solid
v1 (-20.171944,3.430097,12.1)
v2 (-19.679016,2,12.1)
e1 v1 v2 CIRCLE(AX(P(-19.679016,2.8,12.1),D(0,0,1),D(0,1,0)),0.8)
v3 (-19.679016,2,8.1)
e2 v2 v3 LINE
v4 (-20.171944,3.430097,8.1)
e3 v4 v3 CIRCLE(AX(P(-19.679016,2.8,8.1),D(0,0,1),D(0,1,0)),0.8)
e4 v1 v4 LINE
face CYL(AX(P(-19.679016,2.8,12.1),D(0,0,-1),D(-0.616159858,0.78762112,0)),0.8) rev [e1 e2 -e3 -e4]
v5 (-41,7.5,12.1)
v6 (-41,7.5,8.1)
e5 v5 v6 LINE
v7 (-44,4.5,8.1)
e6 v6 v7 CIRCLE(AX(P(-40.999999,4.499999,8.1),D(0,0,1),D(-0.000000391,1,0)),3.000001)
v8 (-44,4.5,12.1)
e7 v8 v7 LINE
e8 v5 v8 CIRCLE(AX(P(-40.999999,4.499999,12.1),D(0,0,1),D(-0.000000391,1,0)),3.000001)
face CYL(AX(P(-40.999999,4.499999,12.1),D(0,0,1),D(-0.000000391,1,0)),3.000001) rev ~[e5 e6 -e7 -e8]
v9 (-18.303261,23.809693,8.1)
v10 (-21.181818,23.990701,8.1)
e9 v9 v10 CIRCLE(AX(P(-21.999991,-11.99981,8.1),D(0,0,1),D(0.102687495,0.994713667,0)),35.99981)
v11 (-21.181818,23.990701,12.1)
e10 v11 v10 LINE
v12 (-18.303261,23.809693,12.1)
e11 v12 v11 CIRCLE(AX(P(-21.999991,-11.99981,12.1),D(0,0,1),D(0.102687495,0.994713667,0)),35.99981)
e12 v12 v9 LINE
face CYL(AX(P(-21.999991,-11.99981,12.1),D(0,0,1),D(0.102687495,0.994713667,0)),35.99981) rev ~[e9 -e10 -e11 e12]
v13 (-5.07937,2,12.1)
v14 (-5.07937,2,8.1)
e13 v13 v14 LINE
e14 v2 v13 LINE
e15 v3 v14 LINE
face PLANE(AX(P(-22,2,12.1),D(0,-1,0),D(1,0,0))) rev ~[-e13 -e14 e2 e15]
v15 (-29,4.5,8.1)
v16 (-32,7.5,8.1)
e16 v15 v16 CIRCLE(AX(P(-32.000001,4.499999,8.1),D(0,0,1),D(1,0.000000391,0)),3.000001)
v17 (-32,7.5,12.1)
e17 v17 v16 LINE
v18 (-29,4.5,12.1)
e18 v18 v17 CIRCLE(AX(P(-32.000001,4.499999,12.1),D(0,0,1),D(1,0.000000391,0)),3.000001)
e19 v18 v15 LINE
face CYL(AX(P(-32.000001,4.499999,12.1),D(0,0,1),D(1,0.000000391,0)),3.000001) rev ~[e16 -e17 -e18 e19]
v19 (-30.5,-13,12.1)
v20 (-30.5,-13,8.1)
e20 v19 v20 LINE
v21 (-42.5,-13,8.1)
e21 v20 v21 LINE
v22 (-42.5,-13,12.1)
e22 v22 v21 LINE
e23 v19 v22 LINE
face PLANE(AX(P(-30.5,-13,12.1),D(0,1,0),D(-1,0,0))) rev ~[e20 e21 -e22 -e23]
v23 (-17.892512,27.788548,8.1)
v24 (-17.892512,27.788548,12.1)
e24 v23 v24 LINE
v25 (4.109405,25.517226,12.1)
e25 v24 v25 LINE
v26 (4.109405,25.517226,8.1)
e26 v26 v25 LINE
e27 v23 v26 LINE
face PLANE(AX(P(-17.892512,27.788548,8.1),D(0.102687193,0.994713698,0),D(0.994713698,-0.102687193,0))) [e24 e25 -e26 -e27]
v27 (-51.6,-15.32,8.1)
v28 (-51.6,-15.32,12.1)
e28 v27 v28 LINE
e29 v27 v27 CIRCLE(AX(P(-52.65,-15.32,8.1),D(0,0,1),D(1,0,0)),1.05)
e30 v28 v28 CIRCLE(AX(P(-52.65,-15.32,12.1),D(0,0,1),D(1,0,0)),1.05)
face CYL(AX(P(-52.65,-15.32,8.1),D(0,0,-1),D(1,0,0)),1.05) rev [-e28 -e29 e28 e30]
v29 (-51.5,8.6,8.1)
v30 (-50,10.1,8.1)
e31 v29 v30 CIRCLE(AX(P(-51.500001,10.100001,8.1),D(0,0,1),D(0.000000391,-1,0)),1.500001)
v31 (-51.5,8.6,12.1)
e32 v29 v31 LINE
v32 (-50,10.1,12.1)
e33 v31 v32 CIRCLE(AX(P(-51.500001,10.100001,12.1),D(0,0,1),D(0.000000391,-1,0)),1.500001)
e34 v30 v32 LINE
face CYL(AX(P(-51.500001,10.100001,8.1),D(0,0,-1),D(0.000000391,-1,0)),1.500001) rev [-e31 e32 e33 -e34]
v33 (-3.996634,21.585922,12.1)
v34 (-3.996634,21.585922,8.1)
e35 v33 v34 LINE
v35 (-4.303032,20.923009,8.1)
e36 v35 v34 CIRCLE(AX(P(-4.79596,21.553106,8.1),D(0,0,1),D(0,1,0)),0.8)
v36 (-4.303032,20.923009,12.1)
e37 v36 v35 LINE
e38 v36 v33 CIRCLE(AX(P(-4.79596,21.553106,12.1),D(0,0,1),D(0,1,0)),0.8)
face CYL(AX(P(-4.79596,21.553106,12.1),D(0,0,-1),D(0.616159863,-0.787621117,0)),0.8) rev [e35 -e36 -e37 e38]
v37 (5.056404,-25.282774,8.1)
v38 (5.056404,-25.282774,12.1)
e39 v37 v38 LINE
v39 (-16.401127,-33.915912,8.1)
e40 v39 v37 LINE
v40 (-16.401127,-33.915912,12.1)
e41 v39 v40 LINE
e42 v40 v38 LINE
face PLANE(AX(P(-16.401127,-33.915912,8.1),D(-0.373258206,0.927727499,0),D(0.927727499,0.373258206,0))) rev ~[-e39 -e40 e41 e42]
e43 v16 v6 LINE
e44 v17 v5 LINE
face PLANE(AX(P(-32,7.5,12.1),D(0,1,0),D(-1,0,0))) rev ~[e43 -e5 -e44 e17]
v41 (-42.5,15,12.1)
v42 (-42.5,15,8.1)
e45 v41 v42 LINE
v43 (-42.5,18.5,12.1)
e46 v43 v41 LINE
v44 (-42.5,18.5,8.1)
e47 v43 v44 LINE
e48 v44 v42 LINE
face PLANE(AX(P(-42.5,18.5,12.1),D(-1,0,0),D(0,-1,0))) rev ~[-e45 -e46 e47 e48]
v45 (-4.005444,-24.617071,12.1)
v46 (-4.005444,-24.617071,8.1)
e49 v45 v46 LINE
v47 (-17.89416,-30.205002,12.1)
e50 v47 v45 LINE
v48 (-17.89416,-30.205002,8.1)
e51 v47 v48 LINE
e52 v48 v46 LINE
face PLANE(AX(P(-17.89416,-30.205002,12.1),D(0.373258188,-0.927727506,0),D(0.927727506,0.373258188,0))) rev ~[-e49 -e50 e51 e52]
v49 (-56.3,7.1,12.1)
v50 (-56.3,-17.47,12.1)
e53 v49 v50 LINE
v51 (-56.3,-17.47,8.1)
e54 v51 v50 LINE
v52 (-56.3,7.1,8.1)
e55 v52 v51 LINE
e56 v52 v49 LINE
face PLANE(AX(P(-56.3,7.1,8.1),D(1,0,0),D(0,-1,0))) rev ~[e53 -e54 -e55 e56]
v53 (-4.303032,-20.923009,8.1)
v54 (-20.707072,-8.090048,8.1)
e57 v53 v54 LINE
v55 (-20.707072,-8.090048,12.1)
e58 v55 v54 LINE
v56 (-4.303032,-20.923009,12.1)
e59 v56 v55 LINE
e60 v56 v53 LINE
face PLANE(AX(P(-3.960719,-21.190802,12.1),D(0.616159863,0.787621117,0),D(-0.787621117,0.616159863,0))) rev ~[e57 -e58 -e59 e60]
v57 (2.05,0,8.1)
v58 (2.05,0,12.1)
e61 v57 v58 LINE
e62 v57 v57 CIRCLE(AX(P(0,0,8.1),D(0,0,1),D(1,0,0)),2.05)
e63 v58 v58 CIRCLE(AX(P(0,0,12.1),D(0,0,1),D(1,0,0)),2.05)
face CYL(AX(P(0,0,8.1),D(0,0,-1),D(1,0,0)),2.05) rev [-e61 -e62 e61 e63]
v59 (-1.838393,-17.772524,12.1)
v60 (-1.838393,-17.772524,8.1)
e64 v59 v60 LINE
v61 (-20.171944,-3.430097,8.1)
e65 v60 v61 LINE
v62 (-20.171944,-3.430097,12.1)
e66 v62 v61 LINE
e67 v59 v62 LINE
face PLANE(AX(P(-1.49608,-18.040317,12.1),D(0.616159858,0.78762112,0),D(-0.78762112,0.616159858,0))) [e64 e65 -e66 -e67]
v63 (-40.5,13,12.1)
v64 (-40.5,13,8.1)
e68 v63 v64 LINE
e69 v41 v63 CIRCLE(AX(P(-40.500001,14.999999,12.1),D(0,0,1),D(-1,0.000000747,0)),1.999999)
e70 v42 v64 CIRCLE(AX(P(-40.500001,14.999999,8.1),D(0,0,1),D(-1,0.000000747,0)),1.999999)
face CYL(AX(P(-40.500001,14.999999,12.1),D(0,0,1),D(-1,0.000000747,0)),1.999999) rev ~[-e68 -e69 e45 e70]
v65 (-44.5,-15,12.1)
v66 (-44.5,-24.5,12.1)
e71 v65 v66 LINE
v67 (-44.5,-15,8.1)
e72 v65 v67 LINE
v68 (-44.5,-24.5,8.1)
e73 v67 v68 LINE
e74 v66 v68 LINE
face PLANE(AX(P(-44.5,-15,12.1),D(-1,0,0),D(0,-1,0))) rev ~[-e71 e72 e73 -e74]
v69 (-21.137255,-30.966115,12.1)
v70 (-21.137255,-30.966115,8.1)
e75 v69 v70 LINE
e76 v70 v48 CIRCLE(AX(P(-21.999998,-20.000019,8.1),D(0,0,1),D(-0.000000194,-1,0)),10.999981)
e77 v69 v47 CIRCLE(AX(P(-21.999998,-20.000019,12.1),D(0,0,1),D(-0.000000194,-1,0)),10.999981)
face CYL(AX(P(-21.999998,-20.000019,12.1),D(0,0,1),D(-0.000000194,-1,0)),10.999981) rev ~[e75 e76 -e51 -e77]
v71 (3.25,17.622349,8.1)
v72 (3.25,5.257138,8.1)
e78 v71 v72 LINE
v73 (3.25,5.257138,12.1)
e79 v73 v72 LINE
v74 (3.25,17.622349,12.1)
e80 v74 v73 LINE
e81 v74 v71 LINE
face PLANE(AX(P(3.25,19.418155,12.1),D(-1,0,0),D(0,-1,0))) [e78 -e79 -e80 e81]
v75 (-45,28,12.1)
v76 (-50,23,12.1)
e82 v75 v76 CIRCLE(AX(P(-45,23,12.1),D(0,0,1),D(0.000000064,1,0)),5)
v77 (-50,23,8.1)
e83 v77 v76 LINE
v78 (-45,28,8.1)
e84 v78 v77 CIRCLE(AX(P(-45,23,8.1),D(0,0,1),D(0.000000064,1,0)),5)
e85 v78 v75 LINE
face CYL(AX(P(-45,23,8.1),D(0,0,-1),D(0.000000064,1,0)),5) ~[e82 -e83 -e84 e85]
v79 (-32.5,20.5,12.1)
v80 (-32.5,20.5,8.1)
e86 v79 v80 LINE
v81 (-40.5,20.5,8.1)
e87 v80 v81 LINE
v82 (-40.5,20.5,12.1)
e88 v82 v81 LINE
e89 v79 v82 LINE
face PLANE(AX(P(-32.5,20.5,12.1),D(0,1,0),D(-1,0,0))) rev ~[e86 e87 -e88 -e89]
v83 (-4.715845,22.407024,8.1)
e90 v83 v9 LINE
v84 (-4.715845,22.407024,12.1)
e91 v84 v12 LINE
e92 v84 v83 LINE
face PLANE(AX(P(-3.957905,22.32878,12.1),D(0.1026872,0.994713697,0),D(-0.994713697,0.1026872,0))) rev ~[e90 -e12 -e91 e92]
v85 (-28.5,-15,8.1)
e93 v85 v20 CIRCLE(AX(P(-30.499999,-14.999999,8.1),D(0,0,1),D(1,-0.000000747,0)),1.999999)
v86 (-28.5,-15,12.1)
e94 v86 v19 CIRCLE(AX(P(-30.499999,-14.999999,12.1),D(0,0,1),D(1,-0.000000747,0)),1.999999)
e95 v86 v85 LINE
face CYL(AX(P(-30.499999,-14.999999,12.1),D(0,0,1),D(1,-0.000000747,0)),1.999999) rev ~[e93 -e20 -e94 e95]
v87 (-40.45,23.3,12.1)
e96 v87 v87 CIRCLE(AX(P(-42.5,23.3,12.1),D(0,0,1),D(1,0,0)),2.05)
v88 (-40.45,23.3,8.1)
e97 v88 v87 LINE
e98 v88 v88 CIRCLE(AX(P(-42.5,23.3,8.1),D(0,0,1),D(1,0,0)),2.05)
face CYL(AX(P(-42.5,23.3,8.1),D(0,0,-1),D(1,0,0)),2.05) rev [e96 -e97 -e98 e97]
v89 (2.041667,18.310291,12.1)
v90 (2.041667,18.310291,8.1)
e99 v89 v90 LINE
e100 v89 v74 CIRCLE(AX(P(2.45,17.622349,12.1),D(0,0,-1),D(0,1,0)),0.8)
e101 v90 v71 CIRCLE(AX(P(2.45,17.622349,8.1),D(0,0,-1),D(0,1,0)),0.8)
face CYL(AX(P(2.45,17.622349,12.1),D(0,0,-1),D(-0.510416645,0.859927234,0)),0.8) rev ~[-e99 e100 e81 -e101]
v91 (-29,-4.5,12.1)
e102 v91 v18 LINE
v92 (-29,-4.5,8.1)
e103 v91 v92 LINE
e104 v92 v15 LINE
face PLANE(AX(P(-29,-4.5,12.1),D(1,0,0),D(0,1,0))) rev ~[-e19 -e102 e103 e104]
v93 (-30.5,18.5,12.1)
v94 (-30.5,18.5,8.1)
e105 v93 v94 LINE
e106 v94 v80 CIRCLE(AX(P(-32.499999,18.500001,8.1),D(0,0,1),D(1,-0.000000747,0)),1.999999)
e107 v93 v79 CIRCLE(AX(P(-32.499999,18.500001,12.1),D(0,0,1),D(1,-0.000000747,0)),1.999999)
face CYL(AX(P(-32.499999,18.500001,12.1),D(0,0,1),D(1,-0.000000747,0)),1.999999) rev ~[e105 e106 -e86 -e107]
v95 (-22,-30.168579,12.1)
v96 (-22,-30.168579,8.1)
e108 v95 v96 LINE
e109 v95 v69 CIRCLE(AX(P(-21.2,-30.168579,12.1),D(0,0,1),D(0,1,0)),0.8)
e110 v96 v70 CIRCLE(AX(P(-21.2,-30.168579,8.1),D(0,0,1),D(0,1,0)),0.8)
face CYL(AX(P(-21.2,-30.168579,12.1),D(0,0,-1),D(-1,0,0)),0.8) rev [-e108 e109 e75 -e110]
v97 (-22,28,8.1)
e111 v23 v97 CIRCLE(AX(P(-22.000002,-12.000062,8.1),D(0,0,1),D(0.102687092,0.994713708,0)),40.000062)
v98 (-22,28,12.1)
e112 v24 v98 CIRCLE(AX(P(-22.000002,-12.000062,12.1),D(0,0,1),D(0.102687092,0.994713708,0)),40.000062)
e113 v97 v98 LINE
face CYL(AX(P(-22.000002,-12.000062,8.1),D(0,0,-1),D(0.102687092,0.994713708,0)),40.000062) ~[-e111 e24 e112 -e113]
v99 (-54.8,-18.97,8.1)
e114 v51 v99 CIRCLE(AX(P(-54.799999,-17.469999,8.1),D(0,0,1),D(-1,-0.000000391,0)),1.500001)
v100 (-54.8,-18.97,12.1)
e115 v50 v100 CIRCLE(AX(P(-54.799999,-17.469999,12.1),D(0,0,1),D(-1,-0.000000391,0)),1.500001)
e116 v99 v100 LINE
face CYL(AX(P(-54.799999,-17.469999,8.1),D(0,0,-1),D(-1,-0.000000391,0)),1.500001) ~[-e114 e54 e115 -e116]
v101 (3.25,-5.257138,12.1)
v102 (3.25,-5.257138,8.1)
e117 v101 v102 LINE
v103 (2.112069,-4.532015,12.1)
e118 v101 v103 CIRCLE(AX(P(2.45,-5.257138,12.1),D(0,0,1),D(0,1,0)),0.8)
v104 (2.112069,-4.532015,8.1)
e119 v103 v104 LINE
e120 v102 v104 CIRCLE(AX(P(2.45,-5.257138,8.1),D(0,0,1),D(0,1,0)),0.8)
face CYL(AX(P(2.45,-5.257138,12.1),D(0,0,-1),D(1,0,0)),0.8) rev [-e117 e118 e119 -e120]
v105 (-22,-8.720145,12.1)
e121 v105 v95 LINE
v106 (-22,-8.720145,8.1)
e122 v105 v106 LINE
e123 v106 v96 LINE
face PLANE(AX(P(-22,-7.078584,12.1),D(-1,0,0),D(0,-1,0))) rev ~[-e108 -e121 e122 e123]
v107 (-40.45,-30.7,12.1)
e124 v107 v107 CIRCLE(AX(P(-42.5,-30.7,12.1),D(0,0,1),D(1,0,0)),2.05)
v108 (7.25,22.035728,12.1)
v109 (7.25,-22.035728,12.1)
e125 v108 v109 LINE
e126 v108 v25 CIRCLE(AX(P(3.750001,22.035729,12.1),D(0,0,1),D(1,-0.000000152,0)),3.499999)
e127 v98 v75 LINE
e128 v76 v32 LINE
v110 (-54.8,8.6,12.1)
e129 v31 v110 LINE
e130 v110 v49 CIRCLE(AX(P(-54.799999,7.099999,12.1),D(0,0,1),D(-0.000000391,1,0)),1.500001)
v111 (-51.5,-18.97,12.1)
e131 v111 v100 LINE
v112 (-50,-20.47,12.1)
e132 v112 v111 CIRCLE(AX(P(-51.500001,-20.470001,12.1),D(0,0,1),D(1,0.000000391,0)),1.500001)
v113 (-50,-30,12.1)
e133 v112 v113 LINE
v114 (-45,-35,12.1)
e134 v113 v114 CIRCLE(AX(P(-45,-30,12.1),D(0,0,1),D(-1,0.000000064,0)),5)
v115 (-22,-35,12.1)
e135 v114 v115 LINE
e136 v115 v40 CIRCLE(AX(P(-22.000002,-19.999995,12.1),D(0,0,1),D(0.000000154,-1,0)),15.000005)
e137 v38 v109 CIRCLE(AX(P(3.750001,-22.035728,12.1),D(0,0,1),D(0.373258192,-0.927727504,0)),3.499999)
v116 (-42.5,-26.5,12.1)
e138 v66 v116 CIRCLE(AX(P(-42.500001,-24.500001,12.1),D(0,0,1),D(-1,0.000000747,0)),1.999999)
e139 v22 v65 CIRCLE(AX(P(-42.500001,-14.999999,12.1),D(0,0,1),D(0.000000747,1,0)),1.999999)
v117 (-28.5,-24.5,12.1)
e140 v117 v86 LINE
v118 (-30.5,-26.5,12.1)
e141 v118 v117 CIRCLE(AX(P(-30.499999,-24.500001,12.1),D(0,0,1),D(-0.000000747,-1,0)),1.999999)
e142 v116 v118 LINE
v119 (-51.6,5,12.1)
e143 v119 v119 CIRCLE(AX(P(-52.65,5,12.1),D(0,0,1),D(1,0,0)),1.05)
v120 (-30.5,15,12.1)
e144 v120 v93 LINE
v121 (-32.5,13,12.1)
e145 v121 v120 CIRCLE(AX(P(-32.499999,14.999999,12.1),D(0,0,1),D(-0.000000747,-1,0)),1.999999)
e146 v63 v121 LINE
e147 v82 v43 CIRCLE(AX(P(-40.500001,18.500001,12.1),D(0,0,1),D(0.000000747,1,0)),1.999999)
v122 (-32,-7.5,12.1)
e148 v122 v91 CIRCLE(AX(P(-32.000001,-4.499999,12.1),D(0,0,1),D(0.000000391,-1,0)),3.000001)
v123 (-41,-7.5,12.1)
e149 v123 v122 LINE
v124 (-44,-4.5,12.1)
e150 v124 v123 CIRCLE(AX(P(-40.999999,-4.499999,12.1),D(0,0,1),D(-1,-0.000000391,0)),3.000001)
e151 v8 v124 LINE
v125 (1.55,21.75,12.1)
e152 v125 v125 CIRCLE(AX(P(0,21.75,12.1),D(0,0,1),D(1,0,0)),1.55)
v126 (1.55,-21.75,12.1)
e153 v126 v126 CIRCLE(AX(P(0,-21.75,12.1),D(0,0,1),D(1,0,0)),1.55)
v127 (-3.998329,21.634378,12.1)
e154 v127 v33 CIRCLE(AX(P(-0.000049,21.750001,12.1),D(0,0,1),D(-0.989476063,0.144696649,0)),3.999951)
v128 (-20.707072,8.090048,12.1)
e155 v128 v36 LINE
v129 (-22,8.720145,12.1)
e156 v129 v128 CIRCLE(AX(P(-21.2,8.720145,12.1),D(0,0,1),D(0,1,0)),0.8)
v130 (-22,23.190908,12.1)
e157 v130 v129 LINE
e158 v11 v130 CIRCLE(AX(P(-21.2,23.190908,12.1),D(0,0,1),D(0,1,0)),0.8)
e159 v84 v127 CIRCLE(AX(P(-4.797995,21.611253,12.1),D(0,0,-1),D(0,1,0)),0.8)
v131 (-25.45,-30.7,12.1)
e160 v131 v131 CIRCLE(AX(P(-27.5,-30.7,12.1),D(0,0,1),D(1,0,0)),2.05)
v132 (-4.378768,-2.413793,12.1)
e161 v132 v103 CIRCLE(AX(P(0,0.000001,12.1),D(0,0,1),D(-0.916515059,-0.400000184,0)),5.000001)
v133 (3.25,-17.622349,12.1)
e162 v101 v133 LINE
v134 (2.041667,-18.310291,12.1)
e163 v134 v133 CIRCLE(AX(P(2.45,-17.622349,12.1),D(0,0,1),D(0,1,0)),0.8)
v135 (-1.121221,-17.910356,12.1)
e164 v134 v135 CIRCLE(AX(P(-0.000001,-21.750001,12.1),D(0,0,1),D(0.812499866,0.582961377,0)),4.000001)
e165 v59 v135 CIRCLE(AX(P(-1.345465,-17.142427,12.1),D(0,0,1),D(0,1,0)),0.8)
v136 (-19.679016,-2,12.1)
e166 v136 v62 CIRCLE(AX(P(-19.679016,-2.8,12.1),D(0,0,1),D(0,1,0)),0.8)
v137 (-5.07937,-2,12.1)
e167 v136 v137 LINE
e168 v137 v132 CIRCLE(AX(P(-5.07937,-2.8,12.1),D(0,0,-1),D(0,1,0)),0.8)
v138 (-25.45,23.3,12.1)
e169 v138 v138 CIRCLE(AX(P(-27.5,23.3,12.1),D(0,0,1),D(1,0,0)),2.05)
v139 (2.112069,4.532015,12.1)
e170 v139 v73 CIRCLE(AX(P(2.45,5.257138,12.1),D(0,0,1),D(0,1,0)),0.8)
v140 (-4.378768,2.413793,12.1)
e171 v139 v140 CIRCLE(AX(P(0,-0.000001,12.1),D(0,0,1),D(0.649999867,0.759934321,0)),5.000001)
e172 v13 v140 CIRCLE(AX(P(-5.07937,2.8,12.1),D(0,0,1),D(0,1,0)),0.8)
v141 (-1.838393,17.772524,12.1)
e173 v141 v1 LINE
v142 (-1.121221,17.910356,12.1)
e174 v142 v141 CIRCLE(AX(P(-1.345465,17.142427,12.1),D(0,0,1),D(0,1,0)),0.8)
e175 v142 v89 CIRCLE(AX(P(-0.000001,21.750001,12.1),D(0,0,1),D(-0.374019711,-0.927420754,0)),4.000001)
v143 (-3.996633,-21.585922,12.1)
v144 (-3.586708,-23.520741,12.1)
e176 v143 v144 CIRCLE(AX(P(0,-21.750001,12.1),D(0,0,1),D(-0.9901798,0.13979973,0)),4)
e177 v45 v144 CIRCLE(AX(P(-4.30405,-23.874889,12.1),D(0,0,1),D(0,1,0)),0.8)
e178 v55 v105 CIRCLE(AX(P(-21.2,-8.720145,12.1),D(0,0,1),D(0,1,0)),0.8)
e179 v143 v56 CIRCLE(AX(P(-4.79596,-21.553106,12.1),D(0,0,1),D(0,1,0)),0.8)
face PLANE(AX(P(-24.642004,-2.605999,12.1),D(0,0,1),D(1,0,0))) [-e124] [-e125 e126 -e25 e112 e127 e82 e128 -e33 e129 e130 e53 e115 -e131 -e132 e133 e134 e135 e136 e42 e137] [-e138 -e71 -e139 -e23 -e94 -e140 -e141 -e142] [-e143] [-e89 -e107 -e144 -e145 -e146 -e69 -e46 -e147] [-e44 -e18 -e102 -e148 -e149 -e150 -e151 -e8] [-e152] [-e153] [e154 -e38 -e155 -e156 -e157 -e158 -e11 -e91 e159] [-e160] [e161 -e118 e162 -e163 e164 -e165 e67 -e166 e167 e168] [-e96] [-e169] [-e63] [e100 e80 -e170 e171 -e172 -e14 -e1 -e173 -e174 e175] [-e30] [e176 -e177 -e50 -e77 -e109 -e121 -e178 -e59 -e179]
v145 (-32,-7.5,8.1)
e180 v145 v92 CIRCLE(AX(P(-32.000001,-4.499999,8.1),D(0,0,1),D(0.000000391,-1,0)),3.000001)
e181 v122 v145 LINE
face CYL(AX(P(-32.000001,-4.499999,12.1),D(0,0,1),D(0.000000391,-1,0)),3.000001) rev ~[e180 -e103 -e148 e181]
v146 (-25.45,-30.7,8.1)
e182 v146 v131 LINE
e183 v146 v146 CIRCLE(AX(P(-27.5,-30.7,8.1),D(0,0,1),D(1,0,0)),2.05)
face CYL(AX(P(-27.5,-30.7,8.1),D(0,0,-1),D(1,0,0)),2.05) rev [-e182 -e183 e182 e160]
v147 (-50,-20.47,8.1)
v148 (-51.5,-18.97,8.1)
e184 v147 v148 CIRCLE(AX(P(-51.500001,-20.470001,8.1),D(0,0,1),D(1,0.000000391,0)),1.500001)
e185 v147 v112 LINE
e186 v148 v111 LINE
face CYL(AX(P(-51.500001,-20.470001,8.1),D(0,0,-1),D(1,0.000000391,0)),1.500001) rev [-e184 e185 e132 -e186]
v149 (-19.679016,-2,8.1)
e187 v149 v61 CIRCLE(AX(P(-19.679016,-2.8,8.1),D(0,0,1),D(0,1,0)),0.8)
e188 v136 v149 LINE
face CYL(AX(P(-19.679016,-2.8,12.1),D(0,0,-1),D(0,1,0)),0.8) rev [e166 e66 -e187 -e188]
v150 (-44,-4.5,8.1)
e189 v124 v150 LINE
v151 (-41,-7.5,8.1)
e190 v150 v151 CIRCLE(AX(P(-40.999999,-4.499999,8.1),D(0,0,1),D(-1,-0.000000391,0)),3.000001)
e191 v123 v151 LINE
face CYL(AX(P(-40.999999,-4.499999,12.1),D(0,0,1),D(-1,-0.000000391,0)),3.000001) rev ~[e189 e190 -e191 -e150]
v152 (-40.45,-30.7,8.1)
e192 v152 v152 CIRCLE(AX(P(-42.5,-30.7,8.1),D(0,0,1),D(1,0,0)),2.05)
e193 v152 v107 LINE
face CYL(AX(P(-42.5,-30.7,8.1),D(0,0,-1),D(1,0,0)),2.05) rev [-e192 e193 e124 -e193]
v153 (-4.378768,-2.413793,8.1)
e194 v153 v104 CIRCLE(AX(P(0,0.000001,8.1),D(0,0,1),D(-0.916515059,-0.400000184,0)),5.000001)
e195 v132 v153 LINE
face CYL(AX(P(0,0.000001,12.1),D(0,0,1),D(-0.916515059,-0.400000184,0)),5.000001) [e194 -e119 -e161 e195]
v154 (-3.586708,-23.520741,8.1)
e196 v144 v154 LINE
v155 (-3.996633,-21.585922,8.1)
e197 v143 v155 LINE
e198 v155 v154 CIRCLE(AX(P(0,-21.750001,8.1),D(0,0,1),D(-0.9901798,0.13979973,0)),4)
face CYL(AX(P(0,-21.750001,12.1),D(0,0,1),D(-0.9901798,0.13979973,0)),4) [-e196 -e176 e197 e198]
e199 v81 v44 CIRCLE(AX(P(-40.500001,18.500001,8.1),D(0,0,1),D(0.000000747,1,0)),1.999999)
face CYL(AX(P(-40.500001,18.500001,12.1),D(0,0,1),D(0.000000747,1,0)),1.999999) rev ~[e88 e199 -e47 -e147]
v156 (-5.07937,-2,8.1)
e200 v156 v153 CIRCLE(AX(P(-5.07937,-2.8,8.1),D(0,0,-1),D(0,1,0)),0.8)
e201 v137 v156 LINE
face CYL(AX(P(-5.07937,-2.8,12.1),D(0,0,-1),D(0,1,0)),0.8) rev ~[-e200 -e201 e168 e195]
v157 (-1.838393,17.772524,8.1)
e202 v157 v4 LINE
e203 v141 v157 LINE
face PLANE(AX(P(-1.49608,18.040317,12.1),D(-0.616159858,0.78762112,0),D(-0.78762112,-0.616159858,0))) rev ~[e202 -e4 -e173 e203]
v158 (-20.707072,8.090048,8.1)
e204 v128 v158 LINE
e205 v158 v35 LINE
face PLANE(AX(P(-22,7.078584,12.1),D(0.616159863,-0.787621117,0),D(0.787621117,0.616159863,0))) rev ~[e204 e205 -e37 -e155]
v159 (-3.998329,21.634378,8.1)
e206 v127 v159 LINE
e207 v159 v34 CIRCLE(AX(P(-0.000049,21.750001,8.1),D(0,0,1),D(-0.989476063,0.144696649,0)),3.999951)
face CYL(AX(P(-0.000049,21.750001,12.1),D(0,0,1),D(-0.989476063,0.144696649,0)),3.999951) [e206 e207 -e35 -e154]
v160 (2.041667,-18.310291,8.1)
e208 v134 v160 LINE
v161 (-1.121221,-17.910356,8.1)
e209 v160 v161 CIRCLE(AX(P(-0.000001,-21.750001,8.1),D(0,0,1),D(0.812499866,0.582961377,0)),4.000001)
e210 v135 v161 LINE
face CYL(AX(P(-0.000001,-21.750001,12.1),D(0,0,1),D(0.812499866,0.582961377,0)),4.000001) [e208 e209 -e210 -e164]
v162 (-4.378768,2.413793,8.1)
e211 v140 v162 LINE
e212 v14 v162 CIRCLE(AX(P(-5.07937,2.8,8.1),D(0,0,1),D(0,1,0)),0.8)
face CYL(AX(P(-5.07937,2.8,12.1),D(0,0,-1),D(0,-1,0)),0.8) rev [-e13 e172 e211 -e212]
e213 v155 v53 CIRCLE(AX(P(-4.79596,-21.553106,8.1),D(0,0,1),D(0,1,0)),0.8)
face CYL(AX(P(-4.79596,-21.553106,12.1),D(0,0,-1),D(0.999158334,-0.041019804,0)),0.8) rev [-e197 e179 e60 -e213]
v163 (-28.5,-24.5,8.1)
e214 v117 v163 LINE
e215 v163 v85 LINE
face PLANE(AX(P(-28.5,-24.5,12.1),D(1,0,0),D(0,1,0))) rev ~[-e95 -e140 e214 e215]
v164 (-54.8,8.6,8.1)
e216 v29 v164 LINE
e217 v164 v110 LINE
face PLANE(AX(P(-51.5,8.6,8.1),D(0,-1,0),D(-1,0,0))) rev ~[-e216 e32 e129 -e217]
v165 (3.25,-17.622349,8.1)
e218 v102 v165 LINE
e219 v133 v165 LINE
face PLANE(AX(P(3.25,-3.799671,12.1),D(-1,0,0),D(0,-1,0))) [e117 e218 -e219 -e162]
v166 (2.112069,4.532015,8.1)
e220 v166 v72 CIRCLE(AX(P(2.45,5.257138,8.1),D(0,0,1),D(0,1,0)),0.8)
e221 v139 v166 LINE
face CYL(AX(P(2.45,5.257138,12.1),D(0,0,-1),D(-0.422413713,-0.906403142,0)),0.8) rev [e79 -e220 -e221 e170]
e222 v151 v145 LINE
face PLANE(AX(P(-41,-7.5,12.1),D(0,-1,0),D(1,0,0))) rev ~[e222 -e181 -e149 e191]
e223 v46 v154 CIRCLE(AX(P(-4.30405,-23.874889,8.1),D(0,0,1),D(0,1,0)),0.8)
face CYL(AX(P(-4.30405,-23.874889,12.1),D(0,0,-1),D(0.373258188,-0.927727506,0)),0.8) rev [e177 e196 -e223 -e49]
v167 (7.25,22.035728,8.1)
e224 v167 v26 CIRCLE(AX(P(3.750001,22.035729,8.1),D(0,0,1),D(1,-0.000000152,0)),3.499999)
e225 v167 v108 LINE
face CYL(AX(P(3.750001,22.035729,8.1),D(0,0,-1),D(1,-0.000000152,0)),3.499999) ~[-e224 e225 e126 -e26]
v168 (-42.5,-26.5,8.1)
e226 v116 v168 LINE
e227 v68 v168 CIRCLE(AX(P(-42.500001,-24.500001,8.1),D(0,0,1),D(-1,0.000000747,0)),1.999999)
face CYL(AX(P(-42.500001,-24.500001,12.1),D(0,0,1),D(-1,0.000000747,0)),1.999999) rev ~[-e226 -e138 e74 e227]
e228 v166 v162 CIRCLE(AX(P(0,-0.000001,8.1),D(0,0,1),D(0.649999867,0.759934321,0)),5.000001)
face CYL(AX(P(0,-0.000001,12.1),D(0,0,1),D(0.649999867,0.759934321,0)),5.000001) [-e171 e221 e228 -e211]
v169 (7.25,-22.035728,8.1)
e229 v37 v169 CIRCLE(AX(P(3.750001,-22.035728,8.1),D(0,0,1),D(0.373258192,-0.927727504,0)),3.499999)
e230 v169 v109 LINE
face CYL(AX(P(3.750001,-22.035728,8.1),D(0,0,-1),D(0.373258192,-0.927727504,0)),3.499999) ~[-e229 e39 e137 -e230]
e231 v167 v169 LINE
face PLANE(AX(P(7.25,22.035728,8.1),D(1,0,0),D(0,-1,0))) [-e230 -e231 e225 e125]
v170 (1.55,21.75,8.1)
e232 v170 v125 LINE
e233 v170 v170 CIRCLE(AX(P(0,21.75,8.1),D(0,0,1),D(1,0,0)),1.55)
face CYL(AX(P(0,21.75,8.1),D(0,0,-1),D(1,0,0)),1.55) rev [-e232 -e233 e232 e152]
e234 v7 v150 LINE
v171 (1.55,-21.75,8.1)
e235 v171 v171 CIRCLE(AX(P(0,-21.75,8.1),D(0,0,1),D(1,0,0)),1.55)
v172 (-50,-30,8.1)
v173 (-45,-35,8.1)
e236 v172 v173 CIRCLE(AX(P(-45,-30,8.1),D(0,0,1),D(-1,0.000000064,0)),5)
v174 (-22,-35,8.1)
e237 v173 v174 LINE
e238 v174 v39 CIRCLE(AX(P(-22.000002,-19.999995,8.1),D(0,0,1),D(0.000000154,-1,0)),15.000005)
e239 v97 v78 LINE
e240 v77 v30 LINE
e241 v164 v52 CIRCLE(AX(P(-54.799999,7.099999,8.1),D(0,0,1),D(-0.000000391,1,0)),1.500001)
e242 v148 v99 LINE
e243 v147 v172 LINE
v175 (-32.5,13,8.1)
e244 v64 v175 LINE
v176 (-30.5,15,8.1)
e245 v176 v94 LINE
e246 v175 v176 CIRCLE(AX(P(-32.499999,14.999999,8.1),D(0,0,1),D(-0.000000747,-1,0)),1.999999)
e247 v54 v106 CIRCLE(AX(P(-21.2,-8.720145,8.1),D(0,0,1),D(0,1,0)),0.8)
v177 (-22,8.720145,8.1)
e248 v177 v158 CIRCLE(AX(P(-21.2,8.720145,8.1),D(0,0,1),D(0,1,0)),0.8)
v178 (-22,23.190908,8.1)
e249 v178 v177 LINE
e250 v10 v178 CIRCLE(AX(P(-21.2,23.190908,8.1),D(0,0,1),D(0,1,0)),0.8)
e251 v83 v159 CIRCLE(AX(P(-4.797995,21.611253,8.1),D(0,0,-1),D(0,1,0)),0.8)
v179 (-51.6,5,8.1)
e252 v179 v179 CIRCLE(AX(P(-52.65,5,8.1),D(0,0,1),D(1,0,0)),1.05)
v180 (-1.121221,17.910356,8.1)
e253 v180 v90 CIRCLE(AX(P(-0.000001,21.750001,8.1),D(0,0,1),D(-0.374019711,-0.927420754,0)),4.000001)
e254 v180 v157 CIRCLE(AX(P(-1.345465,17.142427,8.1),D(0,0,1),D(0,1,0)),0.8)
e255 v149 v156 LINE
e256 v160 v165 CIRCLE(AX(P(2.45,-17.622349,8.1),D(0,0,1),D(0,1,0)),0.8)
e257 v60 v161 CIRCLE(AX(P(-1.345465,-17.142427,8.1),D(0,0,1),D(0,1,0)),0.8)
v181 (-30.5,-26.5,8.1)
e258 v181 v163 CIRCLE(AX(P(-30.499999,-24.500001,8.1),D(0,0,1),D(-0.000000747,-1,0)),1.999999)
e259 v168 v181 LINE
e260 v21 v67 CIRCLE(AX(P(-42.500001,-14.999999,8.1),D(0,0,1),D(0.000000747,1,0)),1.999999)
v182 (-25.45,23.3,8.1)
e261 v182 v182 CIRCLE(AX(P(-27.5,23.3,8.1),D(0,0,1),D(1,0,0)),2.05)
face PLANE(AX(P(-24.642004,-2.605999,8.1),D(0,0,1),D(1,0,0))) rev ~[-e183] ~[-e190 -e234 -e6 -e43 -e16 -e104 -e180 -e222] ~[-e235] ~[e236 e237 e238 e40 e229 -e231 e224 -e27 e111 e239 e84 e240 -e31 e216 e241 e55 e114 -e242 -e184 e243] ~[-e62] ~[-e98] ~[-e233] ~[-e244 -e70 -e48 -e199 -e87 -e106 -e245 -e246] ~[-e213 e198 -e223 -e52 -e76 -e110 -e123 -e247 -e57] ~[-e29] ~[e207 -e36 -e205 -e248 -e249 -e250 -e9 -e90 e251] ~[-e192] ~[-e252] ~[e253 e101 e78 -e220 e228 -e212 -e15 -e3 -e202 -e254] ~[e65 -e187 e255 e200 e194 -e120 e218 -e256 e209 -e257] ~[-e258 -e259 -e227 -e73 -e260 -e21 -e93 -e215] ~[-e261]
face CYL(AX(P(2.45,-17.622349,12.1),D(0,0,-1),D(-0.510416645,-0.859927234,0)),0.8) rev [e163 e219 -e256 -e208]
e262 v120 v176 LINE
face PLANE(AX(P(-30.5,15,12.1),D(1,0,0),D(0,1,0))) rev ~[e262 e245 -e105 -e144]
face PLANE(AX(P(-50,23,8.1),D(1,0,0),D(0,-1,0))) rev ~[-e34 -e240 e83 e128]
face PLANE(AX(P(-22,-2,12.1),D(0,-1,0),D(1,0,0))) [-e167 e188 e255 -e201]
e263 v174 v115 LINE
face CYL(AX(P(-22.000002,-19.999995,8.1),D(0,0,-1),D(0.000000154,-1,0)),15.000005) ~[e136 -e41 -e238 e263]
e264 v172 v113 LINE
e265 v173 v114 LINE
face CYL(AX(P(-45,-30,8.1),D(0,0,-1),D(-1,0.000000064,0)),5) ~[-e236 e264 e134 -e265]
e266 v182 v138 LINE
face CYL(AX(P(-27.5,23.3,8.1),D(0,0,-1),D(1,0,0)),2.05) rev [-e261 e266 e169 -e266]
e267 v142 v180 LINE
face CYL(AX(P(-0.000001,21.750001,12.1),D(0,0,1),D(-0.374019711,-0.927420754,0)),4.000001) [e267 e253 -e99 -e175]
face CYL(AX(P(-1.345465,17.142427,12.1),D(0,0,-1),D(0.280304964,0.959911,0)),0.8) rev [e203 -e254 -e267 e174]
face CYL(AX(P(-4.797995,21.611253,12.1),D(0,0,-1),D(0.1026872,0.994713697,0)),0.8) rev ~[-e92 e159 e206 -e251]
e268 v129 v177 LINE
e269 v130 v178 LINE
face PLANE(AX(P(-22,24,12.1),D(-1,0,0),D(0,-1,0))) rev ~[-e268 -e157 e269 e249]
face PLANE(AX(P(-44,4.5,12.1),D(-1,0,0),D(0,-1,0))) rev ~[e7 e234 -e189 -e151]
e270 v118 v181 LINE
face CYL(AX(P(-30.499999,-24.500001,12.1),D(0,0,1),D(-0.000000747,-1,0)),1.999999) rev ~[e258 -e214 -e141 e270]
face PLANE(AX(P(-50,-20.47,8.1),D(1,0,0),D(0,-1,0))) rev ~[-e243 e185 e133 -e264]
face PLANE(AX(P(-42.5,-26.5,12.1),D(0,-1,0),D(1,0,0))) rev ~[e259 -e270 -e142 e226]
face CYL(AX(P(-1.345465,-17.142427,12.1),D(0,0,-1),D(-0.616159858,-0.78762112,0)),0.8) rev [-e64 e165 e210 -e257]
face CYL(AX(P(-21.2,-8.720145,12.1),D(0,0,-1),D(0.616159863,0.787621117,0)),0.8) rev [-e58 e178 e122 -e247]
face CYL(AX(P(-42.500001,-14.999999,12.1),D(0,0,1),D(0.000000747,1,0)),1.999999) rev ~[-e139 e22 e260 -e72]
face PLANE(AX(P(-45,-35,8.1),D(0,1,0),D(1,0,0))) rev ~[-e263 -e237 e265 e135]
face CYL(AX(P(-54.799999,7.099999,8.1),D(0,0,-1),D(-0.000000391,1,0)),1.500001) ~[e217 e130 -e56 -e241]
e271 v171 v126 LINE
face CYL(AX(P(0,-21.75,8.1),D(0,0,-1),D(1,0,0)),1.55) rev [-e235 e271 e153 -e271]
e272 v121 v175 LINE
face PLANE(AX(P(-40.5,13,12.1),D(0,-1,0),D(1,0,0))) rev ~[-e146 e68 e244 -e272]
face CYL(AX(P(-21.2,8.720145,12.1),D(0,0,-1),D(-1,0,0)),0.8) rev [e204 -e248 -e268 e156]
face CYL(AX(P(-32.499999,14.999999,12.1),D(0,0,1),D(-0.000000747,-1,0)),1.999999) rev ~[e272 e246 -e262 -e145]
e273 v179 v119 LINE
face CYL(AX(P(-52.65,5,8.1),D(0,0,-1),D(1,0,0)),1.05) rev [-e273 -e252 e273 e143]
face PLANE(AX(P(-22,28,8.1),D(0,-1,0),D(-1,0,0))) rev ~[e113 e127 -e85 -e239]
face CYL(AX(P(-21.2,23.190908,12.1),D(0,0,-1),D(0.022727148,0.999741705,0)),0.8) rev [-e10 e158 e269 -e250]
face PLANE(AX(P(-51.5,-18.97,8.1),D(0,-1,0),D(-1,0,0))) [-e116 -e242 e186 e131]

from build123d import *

# Parameters (mm, degrees)
SKETCH152_R     = 1.55
SKETCH152_R_2   = 2.05
SKETCH152_R_3   = 1.05
PAD060_DEPTH    = 4
POCKET075_DEPTH = 4.001
POCKET076_DEPTH = 4.001
FILLET004_R     = 0.8


with BuildPart() as part:
    # Sketch152 → Pad060 (new body)
    with BuildSketch(Plane.XY):
        with BuildLine():
            Line((-22, 28), (-45, 28))
            ThreePointArc((-45, 28), (-48.535534, 26.535534), (-50, 23))
            Line((-50, 23), (-50, 10.1))
            ThreePointArc((-51.5, 8.6), (-50.43934, 9.03934), (-50, 10.1))
            Line((-51.5, 8.6), (-54.8, 8.6))
            ThreePointArc((-54.8, 8.6), (-55.86066, 8.16066), (-56.3, 7.1))
            Line((-56.3, 7.1), (-56.3, -17.47))
            ThreePointArc((-56.3, -17.47), (-55.86066, -18.53066), (-54.8, -18.97))
            Line((-51.5, -18.97), (-54.8, -18.97))
            ThreePointArc((-50, -20.47), (-50.43934, -19.40934), (-51.5, -18.97))
            Line((-50, -20.47), (-50, -30))
            ThreePointArc((-50, -30), (-48.535534, -33.535534), (-45, -35))
            Line((-45, -35), (-22, -35))
            ThreePointArc((-22, -35), (-19.148569, -34.726484), (-16.401127, -33.915912))
            Line((-16.401127, -33.915912), (5.056404, -25.282774))
            ThreePointArc((5.056404, -25.282774), (6.650208, -23.995012), (7.25, -22.035728))
            Line((7.25, 22.035728), (7.25, -22.035728))
            ThreePointArc((7.25, 22.035728), (6.348838, 24.380092), (4.109405, 25.517226))
            Line((-17.892512, 27.788548), (4.109405, 25.517226))
            ThreePointArc((-17.892512, 27.788548), (-19.943537, 27.947102), (-22, 28))
        make_face()
        with Locations((0, 21.75)):
            Circle(SKETCH152_R, mode=Mode.SUBTRACT)
        with Locations((0, -21.75)):
            Circle(SKETCH152_R, mode=Mode.SUBTRACT)
        Circle(SKETCH152_R_2, mode=Mode.SUBTRACT)
        with Locations((-42.5, -30.7)):
            Circle(SKETCH152_R_2, mode=Mode.SUBTRACT)
        with Locations((-27.5, -30.7)):
            Circle(SKETCH152_R_2, mode=Mode.SUBTRACT)
        with Locations((-42.5, 23.3)):
            Circle(SKETCH152_R_2, mode=Mode.SUBTRACT)
        with Locations((-27.5, 23.3)):
            Circle(SKETCH152_R_2, mode=Mode.SUBTRACT)
        with Locations((-52.65, 5)):
            Circle(SKETCH152_R_3, mode=Mode.SUBTRACT)
        with Locations((-52.65, -15.32)):
            Circle(SKETCH152_R_3, mode=Mode.SUBTRACT)
    extrude(amount=PAD060_DEPTH)

    # Sketch153 (on Face31 of Pad060) → Pocket075 (cut, through all)
    with BuildSketch(Plane.XY.offset(4)):
        with BuildLine():
            Line((-42.5, -26.5), (-30.5, -26.5))
            ThreePointArc((-30.5, -26.5), (-29.085786, -25.914214), (-28.5, -24.5))
            Line((-28.5, -24.5), (-28.5, -15))
            ThreePointArc((-28.5, -15), (-29.085786, -13.585786), (-30.5, -13))
            Line((-30.5, -13), (-42.5, -13))
            ThreePointArc((-42.5, -13), (-43.914214, -13.585786), (-44.5, -15))
            Line((-44.5, -15), (-44.5, -24.5))
            ThreePointArc((-44.5, -24.5), (-43.914214, -25.914214), (-42.5, -26.5))
        make_face()
        with BuildLine():
            Line((-41, -7.5), (-32, -7.5))
            ThreePointArc((-32, -7.5), (-29.87868, -6.62132), (-29, -4.5))
            Line((-29, -4.5), (-29, 4.5))
            ThreePointArc((-29, 4.5), (-29.87868, 6.62132), (-32, 7.5))
            Line((-32, 7.5), (-41, 7.5))
            ThreePointArc((-41, 7.5), (-43.12132, 6.62132), (-44, 4.5))
            Line((-44, 4.5), (-44, -4.5))
            ThreePointArc((-44, -4.5), (-43.12132, -6.62132), (-41, -7.5))
        make_face()
        with BuildLine():
            Line((-40.5, 13), (-32.5, 13))
            ThreePointArc((-32.5, 13), (-31.085786, 13.585786), (-30.5, 15))
            Line((-30.5, 15), (-30.5, 18.5))
            ThreePointArc((-30.5, 18.5), (-31.085786, 19.914214), (-32.5, 20.5))
            Line((-32.5, 20.5), (-40.5, 20.5))
            ThreePointArc((-40.5, 20.5), (-41.914214, 19.914214), (-42.5, 18.5))
            Line((-42.5, 18.5), (-42.5, 15))
            ThreePointArc((-42.5, 15), (-41.914214, 13.585786), (-40.5, 13))
        make_face()
    extrude(amount=-POCKET075_DEPTH, mode=Mode.SUBTRACT)

    # Sketch154 (on Face5 of Pocket075) → Pocket076 (cut, through all)
    with BuildSketch(Plane.XY.offset(4)):
        with BuildLine():
            ThreePointArc((-4.582576, -2), (-1.119662, -4.873023), (3.25, -3.799671))
            Line((3.25, -3.799671), (3.25, -19.418155))
            ThreePointArc((3.25, -19.418155), (1.115199, -17.908603), (-1.49608, -18.040317))
            Line((-1.49608, -18.040317), (-22, -2))
            Line((-22, -2), (-4.582576, -2))
        make_face()
        with BuildLine():
            ThreePointArc((-3.957905, 22.32878), (-3.999988, 21.759892), (-3.960719, 21.190802))
            Line((-22, 7.078584), (-3.960719, 21.190802))
            Line((-22, 24), (-22, 7.078584))
            ThreePointArc((-18.303261, 23.809693), (-20.149183, 23.952392), (-22, 24))
            Line((-3.957905, 22.32878), (-18.303261, 23.809693))
        make_face()
        with BuildLine():
            Line((3.25, 19.418155), (3.25, 3.799671))
            ThreePointArc((3.25, 3.799671), (-1.119662, 4.873023), (-4.582576, 2))
            Line((-22, 2), (-4.582576, 2))
            Line((-1.49608, 18.040317), (-22, 2))
            ThreePointArc((-1.49608, 18.040317), (1.115199, 17.908603), (3.25, 19.418155))
        make_face()
        with BuildLine():
            Line((-17.89416, -30.205002), (-3.115319, -24.258942))
            ThreePointArc((-3.960719, -21.190802), (-3.856287, -22.812568), (-3.115319, -24.258942))
            Line((-3.960719, -21.190802), (-22, -7.078584))
            Line((-22, -7.078584), (-22, -31))
            ThreePointArc((-22, -31), (-19.908951, -30.799422), (-17.89416, -30.205002))
        make_face()
    extrude(amount=-POCKET076_DEPTH, mode=Mode.SUBTRACT)

    # Fillet004
    fillet004_edges = [part.edges().sort_by_distance(p)[0] for p in [
        (-22, -7.078584, 2),
        (-22, -2, 2),
        (-3.960719, -21.190802, 2),
        (-3.115319, -24.258942, 2),
        (-22, -31, 2),
        (-22, 2, 2),
        (-1.49608, 18.040317, 2),
        (3.25, 19.418155, 2),
        (-4.582576, 2, 2),
        (3.25, 3.799671, 2),
        (-22, 7.078584, 2),
        (-22, 24, 2),
        (-3.957905, 22.32878, 2),
        (-3.960719, 21.190802, 2),
        (3.25, -3.799671, 2),
        (-4.582576, -2, 2),
        (-1.49608, -18.040317, 2),
        (3.25, -19.418155, 2),
    ]]
    fillet(fillet004_edges, radius=FILLET004_R)


with BuildPart() as part_1:
    # Body022 placement: moved
    add(part.part.moved(Location((0, 0, 8.1))))


solid = part_1.part
